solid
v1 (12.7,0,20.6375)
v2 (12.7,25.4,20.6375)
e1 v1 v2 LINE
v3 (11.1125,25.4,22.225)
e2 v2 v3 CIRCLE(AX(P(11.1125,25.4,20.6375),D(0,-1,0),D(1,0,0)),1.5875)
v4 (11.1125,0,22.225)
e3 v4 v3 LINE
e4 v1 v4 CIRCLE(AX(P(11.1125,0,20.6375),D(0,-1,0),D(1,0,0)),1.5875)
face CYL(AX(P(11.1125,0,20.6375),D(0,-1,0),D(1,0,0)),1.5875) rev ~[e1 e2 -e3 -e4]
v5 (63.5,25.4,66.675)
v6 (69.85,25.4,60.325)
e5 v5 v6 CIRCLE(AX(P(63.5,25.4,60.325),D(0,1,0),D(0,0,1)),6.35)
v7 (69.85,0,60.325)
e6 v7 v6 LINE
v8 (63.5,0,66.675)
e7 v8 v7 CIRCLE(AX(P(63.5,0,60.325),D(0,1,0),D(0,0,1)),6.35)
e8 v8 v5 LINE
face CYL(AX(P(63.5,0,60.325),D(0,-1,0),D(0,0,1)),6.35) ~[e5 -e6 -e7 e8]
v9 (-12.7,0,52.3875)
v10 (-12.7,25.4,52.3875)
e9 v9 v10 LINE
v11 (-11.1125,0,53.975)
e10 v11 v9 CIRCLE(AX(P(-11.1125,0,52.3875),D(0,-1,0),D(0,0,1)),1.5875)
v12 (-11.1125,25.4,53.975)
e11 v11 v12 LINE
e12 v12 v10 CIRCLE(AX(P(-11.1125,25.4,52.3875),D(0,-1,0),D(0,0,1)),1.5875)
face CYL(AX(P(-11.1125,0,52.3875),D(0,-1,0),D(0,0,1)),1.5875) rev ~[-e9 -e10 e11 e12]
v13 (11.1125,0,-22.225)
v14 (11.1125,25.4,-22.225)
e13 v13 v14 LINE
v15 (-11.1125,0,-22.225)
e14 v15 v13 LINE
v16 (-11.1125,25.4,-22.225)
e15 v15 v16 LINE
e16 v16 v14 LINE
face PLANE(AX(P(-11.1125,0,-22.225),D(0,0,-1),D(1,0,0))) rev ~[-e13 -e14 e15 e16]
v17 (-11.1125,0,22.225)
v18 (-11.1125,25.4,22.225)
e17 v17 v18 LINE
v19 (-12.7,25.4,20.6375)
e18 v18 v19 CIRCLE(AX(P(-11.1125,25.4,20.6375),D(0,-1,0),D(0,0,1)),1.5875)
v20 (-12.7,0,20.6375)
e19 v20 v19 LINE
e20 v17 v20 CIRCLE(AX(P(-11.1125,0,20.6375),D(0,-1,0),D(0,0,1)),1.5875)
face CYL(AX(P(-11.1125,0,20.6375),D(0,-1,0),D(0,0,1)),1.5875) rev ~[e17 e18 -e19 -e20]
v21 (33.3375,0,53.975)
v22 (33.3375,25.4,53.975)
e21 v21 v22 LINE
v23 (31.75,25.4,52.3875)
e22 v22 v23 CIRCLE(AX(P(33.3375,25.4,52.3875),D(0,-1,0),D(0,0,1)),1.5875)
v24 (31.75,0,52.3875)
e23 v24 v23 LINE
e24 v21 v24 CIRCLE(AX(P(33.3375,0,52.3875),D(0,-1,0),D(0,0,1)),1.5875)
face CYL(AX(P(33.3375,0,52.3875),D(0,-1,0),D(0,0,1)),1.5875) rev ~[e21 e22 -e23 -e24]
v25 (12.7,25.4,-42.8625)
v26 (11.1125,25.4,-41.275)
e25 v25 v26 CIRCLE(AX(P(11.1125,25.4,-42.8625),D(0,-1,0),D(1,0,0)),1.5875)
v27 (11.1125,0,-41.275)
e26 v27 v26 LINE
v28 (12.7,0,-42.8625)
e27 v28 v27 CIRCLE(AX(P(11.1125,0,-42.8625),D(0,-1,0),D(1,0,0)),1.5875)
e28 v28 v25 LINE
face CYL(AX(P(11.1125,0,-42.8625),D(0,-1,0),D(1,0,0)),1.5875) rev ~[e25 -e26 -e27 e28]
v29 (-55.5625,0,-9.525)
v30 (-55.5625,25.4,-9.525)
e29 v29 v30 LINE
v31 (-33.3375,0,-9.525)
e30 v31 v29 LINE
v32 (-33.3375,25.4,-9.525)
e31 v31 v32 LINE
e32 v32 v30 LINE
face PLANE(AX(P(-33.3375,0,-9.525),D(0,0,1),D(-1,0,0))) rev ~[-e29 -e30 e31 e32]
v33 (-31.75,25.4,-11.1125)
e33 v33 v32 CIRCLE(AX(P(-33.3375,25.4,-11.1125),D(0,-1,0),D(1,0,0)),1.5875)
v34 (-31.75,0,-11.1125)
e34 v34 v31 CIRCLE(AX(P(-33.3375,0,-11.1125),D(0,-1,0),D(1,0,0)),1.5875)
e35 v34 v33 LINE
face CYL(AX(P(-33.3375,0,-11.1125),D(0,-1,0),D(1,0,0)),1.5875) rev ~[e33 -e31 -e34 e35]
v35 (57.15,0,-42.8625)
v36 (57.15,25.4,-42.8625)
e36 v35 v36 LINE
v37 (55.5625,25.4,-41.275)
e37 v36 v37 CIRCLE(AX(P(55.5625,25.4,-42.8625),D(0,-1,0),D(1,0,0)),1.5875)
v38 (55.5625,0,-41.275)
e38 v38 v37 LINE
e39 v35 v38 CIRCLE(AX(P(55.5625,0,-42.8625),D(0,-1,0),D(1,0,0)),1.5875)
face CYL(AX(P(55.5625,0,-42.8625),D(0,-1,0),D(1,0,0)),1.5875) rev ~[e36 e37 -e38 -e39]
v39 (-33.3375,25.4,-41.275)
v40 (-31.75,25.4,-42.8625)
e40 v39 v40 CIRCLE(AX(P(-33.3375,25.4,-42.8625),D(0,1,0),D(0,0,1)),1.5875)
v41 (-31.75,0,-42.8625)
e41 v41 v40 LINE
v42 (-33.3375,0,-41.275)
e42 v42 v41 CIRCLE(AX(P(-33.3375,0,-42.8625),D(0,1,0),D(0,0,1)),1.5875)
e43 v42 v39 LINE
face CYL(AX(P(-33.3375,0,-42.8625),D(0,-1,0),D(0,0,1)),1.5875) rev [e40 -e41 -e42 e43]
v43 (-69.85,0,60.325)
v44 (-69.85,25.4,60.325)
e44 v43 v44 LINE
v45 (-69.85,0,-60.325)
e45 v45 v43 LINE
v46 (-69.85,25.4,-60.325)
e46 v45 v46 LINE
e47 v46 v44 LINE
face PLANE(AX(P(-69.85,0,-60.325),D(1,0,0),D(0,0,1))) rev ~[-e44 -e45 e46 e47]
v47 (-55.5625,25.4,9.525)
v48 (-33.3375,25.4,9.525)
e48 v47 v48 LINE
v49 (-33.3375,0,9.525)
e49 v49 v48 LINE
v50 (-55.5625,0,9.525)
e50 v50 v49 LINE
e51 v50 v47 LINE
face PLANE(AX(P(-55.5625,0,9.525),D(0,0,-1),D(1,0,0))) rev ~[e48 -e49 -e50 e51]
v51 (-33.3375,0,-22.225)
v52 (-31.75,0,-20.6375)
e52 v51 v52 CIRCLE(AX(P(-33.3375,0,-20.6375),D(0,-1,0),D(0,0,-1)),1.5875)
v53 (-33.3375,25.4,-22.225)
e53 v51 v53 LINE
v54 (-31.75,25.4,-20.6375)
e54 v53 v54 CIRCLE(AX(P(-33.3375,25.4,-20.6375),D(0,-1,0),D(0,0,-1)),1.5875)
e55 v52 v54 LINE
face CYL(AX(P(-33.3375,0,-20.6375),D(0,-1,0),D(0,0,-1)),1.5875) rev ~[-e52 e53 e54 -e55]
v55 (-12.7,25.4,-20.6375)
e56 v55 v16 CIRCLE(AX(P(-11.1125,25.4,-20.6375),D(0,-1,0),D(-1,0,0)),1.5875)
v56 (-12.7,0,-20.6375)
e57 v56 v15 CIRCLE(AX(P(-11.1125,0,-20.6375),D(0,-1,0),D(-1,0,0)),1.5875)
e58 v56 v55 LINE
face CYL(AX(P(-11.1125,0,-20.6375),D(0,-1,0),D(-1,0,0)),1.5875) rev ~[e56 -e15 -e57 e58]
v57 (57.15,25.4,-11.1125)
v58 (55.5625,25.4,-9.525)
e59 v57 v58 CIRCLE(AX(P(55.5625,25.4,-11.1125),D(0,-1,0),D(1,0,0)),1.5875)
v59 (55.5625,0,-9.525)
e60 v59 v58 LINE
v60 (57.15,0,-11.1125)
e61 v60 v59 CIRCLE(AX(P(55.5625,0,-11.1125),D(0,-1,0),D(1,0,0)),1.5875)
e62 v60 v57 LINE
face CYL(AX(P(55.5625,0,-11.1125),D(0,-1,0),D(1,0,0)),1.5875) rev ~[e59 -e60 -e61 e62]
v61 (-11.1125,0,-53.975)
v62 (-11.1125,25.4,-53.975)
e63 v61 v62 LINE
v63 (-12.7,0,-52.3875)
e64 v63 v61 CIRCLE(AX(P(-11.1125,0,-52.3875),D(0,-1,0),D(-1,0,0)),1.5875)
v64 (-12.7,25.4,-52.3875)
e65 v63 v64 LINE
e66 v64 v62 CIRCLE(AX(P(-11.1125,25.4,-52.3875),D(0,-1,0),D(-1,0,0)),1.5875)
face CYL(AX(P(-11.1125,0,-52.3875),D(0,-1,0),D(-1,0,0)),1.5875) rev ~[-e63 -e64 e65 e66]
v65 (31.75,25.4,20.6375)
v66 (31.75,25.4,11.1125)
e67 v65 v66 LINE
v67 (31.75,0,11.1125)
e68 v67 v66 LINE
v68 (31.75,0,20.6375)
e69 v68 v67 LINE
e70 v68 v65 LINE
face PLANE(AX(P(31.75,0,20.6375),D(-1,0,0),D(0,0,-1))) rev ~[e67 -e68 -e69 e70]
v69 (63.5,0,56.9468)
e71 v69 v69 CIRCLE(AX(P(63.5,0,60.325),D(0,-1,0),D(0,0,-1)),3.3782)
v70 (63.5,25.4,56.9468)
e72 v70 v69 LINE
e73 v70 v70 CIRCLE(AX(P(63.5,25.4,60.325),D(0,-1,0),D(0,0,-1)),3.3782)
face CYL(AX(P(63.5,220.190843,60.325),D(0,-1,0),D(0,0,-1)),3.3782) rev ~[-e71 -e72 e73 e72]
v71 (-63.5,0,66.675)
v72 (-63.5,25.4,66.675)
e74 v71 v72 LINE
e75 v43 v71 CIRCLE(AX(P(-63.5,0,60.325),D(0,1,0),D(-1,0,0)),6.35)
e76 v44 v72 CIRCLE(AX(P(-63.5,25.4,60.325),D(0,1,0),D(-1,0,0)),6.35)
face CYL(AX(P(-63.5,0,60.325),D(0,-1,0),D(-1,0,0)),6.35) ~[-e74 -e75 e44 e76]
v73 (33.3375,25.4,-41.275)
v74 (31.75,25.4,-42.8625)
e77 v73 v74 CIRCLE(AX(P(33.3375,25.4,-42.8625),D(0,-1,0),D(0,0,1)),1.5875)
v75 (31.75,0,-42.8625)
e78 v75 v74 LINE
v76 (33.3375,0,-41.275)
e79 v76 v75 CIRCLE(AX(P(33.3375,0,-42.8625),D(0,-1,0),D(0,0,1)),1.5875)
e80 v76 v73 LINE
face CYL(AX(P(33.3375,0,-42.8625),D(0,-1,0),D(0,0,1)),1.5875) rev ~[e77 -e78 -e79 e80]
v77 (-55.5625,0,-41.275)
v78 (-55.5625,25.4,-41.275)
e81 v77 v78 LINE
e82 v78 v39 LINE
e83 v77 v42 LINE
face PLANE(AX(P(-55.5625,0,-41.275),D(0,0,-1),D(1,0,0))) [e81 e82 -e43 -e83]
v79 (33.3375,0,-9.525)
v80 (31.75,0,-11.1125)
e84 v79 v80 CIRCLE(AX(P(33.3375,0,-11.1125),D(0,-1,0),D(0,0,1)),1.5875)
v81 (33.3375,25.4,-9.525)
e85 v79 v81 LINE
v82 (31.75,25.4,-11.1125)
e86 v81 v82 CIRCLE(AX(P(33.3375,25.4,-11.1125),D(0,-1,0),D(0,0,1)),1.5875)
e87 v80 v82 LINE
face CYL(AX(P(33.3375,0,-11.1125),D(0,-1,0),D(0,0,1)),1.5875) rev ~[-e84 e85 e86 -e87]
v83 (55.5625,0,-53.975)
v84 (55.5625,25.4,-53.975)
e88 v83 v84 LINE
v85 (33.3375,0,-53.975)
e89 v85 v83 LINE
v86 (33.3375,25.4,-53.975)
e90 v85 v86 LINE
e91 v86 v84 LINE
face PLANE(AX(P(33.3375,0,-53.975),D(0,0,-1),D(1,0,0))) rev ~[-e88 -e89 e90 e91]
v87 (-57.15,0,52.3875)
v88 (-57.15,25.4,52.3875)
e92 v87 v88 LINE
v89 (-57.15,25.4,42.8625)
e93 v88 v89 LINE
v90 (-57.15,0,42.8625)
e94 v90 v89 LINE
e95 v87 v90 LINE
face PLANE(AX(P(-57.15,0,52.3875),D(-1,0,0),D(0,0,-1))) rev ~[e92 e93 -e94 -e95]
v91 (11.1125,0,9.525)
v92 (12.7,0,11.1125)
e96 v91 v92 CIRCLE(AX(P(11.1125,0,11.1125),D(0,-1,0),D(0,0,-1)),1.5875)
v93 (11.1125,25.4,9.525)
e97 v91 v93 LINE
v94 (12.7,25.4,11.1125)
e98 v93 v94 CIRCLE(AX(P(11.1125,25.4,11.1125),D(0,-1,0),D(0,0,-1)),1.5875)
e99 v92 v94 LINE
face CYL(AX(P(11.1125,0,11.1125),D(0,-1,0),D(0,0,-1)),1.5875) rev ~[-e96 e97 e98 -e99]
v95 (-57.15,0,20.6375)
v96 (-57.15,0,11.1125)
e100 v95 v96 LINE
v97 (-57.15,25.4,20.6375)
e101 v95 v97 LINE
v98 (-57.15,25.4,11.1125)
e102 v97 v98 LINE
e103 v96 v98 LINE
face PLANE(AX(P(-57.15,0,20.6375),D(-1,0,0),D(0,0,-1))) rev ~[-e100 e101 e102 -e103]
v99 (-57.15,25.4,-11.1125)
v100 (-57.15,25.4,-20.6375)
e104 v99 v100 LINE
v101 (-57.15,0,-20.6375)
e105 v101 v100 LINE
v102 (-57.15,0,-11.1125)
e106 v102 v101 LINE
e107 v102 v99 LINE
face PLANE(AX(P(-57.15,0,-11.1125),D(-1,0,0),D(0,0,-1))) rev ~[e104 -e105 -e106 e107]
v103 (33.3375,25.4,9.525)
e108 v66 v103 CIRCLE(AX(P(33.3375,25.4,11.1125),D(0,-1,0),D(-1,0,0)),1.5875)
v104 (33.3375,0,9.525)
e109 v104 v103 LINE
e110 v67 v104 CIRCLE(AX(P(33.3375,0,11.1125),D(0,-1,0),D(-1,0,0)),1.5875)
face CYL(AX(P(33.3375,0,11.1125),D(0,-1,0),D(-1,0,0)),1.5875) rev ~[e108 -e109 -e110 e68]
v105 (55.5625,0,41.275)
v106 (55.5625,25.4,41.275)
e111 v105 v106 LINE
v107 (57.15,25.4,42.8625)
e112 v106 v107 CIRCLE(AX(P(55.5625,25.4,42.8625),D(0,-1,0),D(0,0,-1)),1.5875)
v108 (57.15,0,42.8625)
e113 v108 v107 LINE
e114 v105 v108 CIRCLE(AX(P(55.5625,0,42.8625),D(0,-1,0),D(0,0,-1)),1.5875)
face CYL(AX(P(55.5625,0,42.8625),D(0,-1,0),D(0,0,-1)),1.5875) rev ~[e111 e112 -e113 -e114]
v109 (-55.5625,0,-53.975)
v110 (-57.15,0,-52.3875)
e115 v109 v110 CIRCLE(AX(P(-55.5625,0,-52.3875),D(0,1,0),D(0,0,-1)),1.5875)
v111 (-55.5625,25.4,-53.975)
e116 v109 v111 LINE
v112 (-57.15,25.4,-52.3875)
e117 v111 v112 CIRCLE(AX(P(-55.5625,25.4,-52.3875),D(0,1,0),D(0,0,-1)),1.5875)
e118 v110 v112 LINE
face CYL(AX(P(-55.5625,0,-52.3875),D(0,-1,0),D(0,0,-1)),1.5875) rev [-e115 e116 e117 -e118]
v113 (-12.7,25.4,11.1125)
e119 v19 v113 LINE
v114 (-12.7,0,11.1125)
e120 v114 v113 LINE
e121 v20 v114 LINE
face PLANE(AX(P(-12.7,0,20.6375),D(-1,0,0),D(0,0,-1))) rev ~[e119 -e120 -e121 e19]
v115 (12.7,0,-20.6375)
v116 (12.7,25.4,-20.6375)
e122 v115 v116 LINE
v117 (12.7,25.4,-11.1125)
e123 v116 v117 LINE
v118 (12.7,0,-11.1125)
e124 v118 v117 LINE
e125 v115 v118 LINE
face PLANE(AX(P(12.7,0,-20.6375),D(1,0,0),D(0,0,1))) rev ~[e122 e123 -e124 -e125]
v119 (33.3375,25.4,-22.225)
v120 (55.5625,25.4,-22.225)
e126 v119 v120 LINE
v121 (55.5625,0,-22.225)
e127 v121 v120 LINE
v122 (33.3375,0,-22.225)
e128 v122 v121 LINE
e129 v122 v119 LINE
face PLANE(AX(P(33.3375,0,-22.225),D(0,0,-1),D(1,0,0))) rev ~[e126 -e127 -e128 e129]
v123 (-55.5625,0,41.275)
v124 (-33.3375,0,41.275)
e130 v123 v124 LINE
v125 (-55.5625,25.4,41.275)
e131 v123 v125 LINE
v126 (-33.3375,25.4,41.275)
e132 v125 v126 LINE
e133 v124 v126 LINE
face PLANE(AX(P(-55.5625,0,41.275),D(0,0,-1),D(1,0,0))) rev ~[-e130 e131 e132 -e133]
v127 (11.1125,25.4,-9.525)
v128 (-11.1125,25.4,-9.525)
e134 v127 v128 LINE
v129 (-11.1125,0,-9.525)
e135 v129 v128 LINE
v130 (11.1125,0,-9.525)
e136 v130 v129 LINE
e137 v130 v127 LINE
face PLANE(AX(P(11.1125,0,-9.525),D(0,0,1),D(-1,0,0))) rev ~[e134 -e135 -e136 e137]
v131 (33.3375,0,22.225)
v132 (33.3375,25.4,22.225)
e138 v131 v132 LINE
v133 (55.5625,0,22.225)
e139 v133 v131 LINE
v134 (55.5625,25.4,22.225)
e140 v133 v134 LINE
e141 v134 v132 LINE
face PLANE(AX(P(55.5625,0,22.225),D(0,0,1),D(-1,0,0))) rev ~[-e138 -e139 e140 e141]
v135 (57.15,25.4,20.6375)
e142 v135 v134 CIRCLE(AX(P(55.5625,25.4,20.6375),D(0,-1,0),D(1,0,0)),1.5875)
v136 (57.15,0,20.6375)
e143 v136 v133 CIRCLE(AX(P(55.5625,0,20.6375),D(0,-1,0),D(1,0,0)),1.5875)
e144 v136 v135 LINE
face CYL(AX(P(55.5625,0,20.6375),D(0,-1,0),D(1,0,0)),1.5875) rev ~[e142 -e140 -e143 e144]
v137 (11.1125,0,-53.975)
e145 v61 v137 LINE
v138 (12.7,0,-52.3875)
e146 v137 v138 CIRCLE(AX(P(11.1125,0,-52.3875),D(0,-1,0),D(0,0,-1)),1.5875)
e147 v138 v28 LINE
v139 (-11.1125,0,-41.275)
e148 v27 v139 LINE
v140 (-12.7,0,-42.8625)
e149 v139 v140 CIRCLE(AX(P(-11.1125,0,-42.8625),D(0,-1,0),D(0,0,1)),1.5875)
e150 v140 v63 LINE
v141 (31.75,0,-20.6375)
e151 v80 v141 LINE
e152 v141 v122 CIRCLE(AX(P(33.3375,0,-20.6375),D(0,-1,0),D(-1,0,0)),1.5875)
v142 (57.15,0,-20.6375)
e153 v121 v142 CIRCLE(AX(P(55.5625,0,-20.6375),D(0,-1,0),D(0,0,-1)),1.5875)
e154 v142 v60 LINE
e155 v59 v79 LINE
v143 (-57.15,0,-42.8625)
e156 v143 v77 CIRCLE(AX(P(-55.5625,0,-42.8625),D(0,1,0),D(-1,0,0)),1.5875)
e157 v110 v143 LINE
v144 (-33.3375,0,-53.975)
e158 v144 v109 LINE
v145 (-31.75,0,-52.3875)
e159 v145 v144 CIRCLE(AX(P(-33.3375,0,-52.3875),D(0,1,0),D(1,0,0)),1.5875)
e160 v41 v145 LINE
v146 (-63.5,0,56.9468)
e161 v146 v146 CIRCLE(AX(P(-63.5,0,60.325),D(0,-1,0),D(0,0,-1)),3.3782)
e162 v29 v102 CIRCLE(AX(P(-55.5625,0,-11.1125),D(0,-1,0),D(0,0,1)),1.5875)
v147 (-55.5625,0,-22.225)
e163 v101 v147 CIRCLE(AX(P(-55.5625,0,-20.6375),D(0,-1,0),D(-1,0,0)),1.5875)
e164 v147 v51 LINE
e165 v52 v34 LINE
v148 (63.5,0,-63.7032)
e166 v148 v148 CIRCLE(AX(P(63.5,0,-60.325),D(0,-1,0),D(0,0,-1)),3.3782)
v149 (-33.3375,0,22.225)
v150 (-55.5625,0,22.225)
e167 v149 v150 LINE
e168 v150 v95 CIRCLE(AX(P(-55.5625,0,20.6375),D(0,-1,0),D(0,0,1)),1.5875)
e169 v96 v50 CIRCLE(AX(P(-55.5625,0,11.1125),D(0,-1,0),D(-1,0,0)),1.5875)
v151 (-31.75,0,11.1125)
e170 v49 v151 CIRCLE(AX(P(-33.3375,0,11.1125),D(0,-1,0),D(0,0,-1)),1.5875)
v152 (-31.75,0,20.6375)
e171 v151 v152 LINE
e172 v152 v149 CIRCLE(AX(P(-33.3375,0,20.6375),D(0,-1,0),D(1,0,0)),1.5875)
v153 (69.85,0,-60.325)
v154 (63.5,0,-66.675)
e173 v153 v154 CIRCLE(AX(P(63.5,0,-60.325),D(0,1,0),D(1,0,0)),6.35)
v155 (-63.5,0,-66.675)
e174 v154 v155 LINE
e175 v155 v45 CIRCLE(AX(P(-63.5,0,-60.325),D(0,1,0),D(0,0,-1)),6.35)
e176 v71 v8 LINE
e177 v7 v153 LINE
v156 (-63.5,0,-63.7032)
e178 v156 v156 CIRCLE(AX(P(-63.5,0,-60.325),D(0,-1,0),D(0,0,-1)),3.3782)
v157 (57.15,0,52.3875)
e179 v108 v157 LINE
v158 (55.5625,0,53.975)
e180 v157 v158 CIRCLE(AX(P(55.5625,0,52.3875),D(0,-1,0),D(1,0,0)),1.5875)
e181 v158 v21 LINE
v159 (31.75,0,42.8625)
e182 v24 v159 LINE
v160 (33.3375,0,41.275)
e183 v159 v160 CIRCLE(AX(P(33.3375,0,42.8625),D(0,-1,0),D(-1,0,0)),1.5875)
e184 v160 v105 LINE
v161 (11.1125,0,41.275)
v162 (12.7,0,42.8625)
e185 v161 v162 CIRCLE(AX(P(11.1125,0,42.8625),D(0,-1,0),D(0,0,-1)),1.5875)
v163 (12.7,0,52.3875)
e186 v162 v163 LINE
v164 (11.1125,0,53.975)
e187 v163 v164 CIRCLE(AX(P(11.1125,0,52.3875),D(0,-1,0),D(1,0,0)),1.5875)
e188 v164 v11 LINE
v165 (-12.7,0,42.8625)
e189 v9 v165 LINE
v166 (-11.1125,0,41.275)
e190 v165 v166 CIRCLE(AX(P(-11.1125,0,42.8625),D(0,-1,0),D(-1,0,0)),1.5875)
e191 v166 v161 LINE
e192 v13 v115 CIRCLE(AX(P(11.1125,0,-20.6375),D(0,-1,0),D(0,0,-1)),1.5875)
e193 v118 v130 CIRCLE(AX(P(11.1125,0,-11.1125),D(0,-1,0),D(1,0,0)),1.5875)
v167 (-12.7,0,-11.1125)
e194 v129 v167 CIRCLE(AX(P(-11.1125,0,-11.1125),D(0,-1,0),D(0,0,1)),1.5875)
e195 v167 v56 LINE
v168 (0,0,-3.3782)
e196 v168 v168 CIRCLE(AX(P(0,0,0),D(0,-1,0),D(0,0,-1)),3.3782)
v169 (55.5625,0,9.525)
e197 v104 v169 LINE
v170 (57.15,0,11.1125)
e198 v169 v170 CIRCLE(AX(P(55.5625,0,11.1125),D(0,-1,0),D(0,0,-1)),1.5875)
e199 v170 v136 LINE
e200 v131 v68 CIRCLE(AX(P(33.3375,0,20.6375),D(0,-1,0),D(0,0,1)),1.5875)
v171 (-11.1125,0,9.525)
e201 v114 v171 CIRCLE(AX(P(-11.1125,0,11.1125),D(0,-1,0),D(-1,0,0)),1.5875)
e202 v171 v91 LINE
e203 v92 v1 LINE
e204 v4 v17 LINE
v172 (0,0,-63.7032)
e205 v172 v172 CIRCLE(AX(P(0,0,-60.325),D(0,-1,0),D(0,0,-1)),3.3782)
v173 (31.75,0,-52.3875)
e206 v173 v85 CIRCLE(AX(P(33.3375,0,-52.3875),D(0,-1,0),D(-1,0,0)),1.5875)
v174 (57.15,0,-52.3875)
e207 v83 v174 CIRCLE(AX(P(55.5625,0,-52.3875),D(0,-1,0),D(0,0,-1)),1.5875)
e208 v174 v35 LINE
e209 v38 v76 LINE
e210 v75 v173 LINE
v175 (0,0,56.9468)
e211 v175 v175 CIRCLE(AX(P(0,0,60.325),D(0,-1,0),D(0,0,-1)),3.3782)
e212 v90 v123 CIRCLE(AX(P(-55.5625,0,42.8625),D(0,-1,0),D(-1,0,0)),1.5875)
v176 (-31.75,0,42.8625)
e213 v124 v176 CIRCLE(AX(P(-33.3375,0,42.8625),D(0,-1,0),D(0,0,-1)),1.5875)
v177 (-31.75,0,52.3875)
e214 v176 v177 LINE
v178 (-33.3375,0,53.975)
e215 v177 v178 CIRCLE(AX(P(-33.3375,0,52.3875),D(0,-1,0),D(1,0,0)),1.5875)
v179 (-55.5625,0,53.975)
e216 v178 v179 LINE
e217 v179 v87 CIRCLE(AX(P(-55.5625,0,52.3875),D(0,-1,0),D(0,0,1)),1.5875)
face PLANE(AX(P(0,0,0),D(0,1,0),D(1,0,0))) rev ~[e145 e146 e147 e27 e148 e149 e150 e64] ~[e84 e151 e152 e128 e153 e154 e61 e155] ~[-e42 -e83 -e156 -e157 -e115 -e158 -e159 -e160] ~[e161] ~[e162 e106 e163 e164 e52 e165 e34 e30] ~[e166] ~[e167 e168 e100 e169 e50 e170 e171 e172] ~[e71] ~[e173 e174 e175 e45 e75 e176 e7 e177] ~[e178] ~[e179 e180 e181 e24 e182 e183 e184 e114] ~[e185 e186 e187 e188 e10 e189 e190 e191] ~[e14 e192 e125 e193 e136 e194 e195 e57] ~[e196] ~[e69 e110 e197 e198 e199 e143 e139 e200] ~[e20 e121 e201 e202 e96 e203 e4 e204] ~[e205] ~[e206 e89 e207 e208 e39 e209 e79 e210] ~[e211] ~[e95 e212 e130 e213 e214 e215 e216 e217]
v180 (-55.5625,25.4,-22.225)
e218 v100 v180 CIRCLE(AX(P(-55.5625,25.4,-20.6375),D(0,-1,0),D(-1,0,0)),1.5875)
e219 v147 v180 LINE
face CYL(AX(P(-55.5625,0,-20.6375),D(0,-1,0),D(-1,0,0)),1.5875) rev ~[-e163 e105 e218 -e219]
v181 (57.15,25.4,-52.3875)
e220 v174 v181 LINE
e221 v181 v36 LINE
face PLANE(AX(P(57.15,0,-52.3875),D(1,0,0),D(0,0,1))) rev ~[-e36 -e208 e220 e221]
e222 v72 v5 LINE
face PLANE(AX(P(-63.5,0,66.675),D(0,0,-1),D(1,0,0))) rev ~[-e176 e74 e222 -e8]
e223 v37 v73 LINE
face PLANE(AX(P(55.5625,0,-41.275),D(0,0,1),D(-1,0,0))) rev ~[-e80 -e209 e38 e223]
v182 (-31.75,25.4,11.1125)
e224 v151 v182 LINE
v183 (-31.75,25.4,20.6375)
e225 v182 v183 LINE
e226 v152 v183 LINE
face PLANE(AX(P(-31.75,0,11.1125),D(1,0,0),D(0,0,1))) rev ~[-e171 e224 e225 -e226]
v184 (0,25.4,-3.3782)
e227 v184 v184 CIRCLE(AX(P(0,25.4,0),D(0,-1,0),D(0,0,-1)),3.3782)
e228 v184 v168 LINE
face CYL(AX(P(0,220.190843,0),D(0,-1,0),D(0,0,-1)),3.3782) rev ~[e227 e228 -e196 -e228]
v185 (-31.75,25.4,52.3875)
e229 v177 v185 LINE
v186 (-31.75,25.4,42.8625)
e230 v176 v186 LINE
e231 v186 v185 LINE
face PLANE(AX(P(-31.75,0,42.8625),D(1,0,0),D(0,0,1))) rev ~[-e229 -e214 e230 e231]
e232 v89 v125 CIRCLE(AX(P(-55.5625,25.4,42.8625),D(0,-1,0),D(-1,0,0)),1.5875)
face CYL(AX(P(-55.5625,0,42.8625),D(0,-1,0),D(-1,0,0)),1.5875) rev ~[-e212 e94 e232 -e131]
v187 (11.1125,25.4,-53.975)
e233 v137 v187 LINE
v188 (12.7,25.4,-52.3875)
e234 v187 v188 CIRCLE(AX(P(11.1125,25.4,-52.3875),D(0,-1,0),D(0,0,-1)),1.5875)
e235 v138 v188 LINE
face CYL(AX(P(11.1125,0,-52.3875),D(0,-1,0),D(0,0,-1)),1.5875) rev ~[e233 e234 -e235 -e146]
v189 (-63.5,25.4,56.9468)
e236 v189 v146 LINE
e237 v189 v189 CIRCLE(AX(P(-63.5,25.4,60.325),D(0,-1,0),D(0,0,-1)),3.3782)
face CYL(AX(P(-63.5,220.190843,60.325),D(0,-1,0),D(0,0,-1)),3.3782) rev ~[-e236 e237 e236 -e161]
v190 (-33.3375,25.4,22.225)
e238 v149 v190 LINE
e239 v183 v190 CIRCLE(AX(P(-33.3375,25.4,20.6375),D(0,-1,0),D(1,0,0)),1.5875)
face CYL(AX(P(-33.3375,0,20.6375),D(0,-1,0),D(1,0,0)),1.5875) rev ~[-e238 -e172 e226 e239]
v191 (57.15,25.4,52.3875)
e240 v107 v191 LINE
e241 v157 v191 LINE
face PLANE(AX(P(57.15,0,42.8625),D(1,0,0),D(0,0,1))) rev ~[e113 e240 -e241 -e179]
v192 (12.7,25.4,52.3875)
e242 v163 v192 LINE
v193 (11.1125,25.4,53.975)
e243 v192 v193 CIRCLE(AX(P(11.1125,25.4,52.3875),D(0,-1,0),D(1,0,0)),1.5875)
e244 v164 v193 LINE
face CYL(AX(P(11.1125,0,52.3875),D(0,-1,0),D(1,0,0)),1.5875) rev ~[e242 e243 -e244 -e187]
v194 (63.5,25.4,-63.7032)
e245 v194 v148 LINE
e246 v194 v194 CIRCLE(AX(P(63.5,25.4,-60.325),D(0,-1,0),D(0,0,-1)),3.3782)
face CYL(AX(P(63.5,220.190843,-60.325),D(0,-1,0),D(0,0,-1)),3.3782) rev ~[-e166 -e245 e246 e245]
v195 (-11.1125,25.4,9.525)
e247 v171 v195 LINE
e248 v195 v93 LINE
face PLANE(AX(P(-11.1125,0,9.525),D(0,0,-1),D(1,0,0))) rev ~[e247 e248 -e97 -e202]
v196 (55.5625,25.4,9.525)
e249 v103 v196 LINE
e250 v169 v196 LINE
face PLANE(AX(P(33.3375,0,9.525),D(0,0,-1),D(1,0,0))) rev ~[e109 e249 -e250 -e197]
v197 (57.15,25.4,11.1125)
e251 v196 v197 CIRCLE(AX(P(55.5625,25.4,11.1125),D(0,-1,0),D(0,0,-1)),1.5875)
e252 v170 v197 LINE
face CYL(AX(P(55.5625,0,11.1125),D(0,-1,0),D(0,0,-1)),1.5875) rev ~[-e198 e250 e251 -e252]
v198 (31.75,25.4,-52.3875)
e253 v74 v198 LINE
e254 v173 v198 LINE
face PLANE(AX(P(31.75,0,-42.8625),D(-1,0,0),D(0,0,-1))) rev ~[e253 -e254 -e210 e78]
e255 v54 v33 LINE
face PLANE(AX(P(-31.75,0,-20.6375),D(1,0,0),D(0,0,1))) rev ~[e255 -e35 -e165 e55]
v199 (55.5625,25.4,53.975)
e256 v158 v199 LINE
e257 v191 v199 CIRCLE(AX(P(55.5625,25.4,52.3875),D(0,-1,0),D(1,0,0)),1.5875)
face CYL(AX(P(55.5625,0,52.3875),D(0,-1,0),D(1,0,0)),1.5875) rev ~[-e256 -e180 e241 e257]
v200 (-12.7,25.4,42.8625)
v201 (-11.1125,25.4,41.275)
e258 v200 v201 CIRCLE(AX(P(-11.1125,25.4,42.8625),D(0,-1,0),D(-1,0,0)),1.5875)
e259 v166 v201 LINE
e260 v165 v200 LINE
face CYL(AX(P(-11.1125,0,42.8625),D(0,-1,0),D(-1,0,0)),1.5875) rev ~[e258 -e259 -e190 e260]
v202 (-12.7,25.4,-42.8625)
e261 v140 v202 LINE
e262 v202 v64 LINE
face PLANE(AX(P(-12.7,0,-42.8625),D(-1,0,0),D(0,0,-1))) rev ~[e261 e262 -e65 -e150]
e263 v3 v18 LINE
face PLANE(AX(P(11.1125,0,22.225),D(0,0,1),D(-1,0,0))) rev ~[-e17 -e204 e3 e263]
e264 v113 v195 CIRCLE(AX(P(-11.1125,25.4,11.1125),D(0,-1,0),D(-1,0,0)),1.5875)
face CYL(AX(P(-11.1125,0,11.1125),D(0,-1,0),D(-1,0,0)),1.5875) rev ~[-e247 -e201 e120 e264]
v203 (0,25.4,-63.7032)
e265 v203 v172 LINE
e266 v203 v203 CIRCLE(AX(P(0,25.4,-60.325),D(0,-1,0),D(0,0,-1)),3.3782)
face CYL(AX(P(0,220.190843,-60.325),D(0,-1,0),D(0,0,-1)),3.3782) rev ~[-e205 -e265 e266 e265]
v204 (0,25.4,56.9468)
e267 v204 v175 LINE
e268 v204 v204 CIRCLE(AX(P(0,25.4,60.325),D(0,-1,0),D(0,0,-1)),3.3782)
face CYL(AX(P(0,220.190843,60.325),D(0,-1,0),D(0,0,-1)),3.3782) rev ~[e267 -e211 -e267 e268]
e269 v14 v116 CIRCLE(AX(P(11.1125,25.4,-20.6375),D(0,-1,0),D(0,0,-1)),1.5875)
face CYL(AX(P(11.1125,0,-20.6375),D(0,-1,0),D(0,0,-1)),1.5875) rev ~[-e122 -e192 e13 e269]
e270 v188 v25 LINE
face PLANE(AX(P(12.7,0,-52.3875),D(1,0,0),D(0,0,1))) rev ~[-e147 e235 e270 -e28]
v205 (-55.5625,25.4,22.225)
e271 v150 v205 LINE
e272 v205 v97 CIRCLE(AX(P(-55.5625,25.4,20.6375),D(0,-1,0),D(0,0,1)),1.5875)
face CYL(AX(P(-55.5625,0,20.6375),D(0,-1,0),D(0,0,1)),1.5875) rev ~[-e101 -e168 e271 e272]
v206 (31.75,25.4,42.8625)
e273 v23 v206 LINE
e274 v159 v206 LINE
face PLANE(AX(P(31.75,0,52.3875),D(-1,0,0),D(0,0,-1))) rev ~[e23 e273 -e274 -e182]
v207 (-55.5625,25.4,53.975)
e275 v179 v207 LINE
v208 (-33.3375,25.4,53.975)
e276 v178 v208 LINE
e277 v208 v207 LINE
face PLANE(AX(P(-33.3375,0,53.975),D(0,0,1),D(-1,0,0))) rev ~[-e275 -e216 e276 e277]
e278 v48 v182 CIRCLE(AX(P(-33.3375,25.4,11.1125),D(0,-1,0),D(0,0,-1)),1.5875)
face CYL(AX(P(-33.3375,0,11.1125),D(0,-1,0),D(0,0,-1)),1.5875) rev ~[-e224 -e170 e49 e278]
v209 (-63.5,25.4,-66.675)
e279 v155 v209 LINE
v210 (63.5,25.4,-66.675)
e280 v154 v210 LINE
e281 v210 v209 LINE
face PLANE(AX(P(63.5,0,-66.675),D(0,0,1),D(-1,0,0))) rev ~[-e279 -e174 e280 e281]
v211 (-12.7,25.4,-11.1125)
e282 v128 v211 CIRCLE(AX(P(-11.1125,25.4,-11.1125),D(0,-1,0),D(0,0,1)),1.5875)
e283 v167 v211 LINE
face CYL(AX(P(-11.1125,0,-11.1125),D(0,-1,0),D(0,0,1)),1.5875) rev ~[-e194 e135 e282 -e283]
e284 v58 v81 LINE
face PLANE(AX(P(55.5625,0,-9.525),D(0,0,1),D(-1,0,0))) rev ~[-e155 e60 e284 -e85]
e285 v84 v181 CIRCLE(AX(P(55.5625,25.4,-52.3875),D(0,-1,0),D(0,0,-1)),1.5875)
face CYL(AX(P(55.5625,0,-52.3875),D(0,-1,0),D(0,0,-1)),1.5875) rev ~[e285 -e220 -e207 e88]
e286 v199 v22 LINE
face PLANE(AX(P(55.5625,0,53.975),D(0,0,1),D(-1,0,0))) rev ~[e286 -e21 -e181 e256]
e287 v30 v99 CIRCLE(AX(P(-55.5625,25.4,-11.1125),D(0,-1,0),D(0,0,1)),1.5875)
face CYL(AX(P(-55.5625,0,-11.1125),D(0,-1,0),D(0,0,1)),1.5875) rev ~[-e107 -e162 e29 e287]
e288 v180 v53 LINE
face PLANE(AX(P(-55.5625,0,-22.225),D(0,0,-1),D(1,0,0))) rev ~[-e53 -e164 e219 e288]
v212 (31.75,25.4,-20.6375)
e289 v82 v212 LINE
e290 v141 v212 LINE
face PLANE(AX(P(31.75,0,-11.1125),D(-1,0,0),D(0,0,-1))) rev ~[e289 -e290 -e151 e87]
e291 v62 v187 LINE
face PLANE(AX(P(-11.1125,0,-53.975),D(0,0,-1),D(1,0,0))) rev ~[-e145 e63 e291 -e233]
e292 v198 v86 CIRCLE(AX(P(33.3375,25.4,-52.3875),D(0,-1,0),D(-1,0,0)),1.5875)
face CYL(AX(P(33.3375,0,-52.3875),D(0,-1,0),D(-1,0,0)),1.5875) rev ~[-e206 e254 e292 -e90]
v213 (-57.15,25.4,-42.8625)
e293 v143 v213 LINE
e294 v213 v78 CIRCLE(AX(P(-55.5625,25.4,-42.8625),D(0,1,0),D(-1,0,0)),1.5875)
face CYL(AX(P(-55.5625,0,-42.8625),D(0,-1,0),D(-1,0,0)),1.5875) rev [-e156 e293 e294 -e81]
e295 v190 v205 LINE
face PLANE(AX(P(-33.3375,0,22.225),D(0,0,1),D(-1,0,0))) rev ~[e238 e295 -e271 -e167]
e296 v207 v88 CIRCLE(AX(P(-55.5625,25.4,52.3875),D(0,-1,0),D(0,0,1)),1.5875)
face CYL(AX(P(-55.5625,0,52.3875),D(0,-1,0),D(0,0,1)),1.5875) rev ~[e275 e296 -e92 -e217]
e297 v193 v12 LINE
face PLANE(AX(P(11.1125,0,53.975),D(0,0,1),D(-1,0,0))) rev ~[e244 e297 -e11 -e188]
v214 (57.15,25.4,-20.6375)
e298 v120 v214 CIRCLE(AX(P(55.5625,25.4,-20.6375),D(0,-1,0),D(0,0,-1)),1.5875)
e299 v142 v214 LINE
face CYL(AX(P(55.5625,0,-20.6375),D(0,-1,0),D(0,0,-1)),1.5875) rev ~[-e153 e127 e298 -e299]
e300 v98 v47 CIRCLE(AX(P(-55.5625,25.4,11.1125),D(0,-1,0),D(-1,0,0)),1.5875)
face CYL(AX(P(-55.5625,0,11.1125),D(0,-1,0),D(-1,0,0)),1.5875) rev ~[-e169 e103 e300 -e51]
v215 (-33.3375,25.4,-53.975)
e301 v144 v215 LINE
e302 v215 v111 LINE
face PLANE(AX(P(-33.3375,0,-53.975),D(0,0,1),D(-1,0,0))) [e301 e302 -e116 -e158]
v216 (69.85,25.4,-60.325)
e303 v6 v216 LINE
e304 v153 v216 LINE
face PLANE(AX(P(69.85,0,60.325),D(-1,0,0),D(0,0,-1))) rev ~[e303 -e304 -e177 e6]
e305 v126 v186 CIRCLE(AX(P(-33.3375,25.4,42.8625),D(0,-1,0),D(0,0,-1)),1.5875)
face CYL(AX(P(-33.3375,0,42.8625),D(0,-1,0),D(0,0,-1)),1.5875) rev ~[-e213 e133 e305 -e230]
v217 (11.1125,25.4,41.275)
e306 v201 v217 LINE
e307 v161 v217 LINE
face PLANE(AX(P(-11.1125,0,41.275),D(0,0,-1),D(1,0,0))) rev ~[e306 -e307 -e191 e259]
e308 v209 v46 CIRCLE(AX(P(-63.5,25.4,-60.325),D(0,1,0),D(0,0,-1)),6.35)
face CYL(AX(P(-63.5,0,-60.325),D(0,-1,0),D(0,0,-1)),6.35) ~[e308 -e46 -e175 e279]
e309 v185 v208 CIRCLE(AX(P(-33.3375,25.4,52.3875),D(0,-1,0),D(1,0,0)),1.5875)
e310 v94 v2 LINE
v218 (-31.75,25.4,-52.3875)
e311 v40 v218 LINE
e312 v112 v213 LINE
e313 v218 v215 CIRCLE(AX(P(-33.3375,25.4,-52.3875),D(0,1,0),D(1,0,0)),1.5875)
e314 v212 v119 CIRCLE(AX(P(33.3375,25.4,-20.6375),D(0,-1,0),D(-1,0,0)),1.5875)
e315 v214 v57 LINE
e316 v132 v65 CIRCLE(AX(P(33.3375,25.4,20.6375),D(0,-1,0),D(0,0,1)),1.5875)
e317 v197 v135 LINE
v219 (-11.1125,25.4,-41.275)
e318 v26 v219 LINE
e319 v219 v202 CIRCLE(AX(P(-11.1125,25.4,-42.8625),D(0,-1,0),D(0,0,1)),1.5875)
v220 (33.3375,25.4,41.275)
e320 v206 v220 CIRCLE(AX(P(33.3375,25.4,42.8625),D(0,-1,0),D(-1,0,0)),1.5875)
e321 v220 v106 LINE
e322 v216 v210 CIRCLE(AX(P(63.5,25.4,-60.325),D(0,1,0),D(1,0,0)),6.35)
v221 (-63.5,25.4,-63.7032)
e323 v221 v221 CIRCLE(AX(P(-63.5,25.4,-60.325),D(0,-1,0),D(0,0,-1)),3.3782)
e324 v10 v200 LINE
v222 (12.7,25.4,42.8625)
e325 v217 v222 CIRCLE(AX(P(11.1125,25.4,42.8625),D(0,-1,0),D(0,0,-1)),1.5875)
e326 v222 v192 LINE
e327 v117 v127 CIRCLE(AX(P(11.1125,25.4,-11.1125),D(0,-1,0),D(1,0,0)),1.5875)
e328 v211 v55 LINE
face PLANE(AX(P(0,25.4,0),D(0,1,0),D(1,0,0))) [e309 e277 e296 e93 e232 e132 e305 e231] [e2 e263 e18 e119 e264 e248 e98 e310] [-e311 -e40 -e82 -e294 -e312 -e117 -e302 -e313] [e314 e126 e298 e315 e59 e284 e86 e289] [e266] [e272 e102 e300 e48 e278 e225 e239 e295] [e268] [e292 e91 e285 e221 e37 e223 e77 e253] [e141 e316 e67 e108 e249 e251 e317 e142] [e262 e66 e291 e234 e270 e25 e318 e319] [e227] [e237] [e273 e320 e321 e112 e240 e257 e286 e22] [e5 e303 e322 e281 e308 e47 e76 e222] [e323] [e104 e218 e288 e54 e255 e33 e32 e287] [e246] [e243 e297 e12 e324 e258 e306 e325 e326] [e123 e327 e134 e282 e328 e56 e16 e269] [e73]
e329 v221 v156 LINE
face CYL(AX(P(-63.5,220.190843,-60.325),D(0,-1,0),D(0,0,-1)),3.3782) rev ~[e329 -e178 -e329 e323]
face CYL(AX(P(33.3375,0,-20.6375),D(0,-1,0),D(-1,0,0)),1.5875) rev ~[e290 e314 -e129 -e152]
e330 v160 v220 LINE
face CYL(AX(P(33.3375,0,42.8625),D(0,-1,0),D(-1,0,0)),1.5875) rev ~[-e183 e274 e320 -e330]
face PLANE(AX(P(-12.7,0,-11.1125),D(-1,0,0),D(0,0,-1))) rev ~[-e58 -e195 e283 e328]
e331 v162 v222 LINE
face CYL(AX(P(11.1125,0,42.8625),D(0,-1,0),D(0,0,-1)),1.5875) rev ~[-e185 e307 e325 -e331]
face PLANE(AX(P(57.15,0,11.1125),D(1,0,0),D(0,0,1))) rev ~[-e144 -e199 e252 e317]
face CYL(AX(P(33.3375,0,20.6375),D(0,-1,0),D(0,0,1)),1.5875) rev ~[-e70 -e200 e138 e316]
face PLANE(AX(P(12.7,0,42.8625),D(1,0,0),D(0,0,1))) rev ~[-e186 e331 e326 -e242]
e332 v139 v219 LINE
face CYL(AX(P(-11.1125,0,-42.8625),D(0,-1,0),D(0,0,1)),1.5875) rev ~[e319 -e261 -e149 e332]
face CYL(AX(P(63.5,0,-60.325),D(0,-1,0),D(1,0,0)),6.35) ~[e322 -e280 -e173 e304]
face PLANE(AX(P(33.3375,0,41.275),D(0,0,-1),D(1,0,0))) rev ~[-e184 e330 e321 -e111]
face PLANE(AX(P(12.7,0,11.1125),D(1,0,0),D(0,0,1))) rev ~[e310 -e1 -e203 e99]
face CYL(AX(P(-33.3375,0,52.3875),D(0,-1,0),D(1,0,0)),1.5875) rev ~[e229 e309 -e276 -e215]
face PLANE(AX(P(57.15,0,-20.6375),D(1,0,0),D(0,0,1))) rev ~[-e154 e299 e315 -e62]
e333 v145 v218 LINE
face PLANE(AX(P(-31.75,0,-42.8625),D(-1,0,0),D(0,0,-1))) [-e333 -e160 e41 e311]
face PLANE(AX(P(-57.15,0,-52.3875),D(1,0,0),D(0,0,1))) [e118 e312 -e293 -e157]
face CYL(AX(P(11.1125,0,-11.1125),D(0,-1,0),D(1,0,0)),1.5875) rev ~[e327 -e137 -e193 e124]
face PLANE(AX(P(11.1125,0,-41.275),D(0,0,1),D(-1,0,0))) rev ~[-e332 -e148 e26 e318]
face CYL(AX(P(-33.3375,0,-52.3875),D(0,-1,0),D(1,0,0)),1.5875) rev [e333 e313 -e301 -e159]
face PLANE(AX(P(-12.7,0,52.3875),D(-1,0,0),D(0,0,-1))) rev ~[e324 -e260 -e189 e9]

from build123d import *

# Parameters (mm, degrees)
BOSS_EXTRUDE1_DEPTH     = 25.4
F_1_4_CLEARANCE_HOLE1_D = 6.7564


with BuildPart() as part:
    # Sketch1 → Boss-Extrude1 (new body)
    with BuildSketch(Plane(origin=(0, 0, 0), x_dir=(1, 0, 0), z_dir=(0, 1, 0))):
        with BuildLine():
            Line((-63.5, -66.675), (63.5, -66.675))
            ThreePointArc((63.5, -66.675), (67.990128061, -64.815128061), (69.85, -60.325))
            Line((69.85, -60.325), (69.85, 60.325))
            ThreePointArc((69.85, 60.325), (67.990128061, 64.815128061), (63.5, 66.675))
            Line((63.5, 66.675), (-63.5, 66.675))
            ThreePointArc((-63.5, 66.675), (-67.990128061, 64.815128061), (-69.85, 60.325))
            Line((-69.85, 60.325), (-69.85, -60.325))
            ThreePointArc((-69.85, -60.325), (-67.990128061, -64.815128061), (-63.5, -66.675))
        make_face()
        with BuildLine():
            Line((-55.5625, 41.275), (-33.3375, 41.275))
            ThreePointArc((-33.3375, 41.275), (-32.214967985, 41.739967985), (-31.75, 42.8625))
            Line((-31.75, 42.8625), (-31.75, 52.3875))
            ThreePointArc((-31.75, 52.3875), (-32.214967985, 53.510032015), (-33.3375, 53.975))
            Line((-33.3375, 53.975), (-55.5625, 53.975))
            ThreePointArc((-55.5625, 53.975), (-56.685032015, 53.510032015), (-57.15, 52.3875))
            Line((-57.15, 52.3875), (-57.15, 42.8625))
            ThreePointArc((-57.15, 42.8625), (-56.685032015, 41.739967985), (-55.5625, 41.275))
        make_face(mode=Mode.SUBTRACT)
        with BuildLine():
            Line((-12.7, 42.8625), (-12.7, 52.3875))
            ThreePointArc((-12.7, 52.3875), (-12.235032015, 53.510032015), (-11.1125, 53.975))
            Line((-11.1125, 53.975), (11.1125, 53.975))
            ThreePointArc((11.1125, 53.975), (12.235032015, 53.510032015), (12.7, 52.3875))
            Line((12.7, 52.3875), (12.7, 42.8625))
            ThreePointArc((12.7, 42.8625), (12.235032015, 41.739967985), (11.1125, 41.275))
            Line((11.1125, 41.275), (-11.1125, 41.275))
            ThreePointArc((-11.1125, 41.275), (-12.235032015, 41.739967985), (-12.7, 42.8625))
        make_face(mode=Mode.SUBTRACT)
        with BuildLine():
            Line((31.75, 42.8625), (31.75, 52.3875))
            ThreePointArc((31.75, 52.3875), (32.214967985, 53.510032015), (33.3375, 53.975))
            Line((33.3375, 53.975), (55.5625, 53.975))
            ThreePointArc((55.5625, 53.975), (56.685032015, 53.510032015), (57.15, 52.3875))
            Line((57.15, 52.3875), (57.15, 42.8625))
            ThreePointArc((57.15, 42.8625), (56.685032015, 41.739967985), (55.5625, 41.275))
            Line((55.5625, 41.275), (33.3375, 41.275))
            ThreePointArc((33.3375, 41.275), (32.214967985, 41.739967985), (31.75, 42.8625))
        make_face(mode=Mode.SUBTRACT)
        with BuildLine():
            Line((-57.15, 11.1125), (-57.15, 20.6375))
            ThreePointArc((-57.15, 20.6375), (-56.685032015, 21.760032015), (-55.5625, 22.225))
            Line((-55.5625, 22.225), (-33.3375, 22.225))
            ThreePointArc((-33.3375, 22.225), (-32.214967985, 21.760032015), (-31.75, 20.6375))
            Line((-31.75, 20.6375), (-31.75, 11.1125))
            ThreePointArc((-31.75, 11.1125), (-32.214967985, 9.989967985), (-33.3375, 9.525))
            Line((-33.3375, 9.525), (-55.5625, 9.525))
            ThreePointArc((-55.5625, 9.525), (-56.685032015, 9.989967985), (-57.15, 11.1125))
        make_face(mode=Mode.SUBTRACT)
        with BuildLine():
            Line((-12.7, 11.1125), (-12.7, 20.6375))
            ThreePointArc((-12.7, 20.6375), (-12.235032015, 21.760032015), (-11.1125, 22.225))
            Line((-11.1125, 22.225), (11.1125, 22.225))
            ThreePointArc((11.1125, 22.225), (12.235032015, 21.760032015), (12.7, 20.6375))
            Line((12.7, 20.6375), (12.7, 11.1125))
            ThreePointArc((12.7, 11.1125), (12.235032015, 9.989967985), (11.1125, 9.525))
            Line((11.1125, 9.525), (-11.1125, 9.525))
            ThreePointArc((-11.1125, 9.525), (-12.235032015, 9.989967985), (-12.7, 11.1125))
        make_face(mode=Mode.SUBTRACT)
        with BuildLine():
            Line((31.75, 11.1125), (31.75, 20.6375))
            ThreePointArc((31.75, 20.6375), (32.214967985, 21.760032015), (33.3375, 22.225))
            Line((33.3375, 22.225), (55.5625, 22.225))
            ThreePointArc((55.5625, 22.225), (56.685032015, 21.760032015), (57.15, 20.6375))
            Line((57.15, 20.6375), (57.15, 11.1125))
            ThreePointArc((57.15, 11.1125), (56.685032015, 9.989967985), (55.5625, 9.525))
            Line((55.5625, 9.525), (33.3375, 9.525))
            ThreePointArc((33.3375, 9.525), (32.214967985, 9.989967985), (31.75, 11.1125))
        make_face(mode=Mode.SUBTRACT)
        with BuildLine():
            Line((-57.15, -20.6375), (-57.15, -11.1125))
            ThreePointArc((-57.15, -11.1125), (-56.685032015, -9.989967985), (-55.5625, -9.525))
            Line((-55.5625, -9.525), (-33.3375, -9.525))
            ThreePointArc((-33.3375, -9.525), (-32.214967985, -9.989967985), (-31.75, -11.1125))
            Line((-31.75, -11.1125), (-31.75, -20.6375))
            ThreePointArc((-31.75, -20.6375), (-32.214967985, -21.760032015), (-33.3375, -22.225))
            Line((-33.3375, -22.225), (-55.5625, -22.225))
            ThreePointArc((-55.5625, -22.225), (-56.685032015, -21.760032015), (-57.15, -20.6375))
        make_face(mode=Mode.SUBTRACT)
        with BuildLine():
            Line((-12.7, -20.6375), (-12.7, -11.1125))
            ThreePointArc((-12.7, -11.1125), (-12.235032015, -9.989967985), (-11.1125, -9.525))
            Line((-11.1125, -9.525), (11.1125, -9.525))
            ThreePointArc((11.1125, -9.525), (12.235032015, -9.989967985), (12.7, -11.1125))
            Line((12.7, -11.1125), (12.7, -20.6375))
            ThreePointArc((12.7, -20.6375), (12.235032015, -21.760032015), (11.1125, -22.225))
            Line((11.1125, -22.225), (-11.1125, -22.225))
            ThreePointArc((-11.1125, -22.225), (-12.235032015, -21.760032015), (-12.7, -20.6375))
        make_face(mode=Mode.SUBTRACT)
        with BuildLine():
            Line((31.75, -20.6375), (31.75, -11.1125))
            ThreePointArc((31.75, -11.1125), (32.214967985, -9.989967985), (33.3375, -9.525))
            Line((33.3375, -9.525), (55.5625, -9.525))
            ThreePointArc((55.5625, -9.525), (56.685032015, -9.989967985), (57.15, -11.1125))
            Line((57.15, -11.1125), (57.15, -20.6375))
            ThreePointArc((57.15, -20.6375), (56.685032015, -21.760032015), (55.5625, -22.225))
            Line((55.5625, -22.225), (33.3375, -22.225))
            ThreePointArc((33.3375, -22.225), (32.214967985, -21.760032015), (31.75, -20.6375))
        make_face(mode=Mode.SUBTRACT)
        with BuildLine():
            Line((-57.15, -52.3875), (-57.15, -42.8625))
            ThreePointArc((-57.15, -42.8625), (-56.685032015, -41.739967985), (-55.5625, -41.275))
            Line((-55.5625, -41.275), (-33.3375, -41.275))
            ThreePointArc((-33.3375, -41.275), (-32.214967985, -41.739967985), (-31.75, -42.8625))
            Line((-31.75, -42.8625), (-31.75, -52.3875))
            ThreePointArc((-31.75, -52.3875), (-32.214967985, -53.510032015), (-33.3375, -53.975))
            Line((-33.3375, -53.975), (-55.5625, -53.975))
            ThreePointArc((-55.5625, -53.975), (-56.685032015, -53.510032015), (-57.15, -52.3875))
        make_face(mode=Mode.SUBTRACT)
        with BuildLine():
            Line((-12.7, -52.3875), (-12.7, -42.8625))
            ThreePointArc((-12.7, -42.8625), (-12.235032015, -41.739967985), (-11.1125, -41.275))
            Line((-11.1125, -41.275), (11.1125, -41.275))
            ThreePointArc((11.1125, -41.275), (12.235032015, -41.739967985), (12.7, -42.8625))
            Line((12.7, -42.8625), (12.7, -52.3875))
            ThreePointArc((12.7, -52.3875), (12.235032015, -53.510032015), (11.1125, -53.975))
            Line((11.1125, -53.975), (-11.1125, -53.975))
            ThreePointArc((-11.1125, -53.975), (-12.235032015, -53.510032015), (-12.7, -52.3875))
        make_face(mode=Mode.SUBTRACT)
        with BuildLine():
            Line((31.75, -52.3875), (31.75, -42.8625))
            ThreePointArc((31.75, -42.8625), (32.214967985, -41.739967985), (33.3375, -41.275))
            Line((33.3375, -41.275), (55.5625, -41.275))
            ThreePointArc((55.5625, -41.275), (56.685032015, -41.739967985), (57.15, -42.8625))
            Line((57.15, -42.8625), (57.15, -52.3875))
            ThreePointArc((57.15, -52.3875), (56.685032015, -53.510032015), (55.5625, -53.975))
            Line((55.5625, -53.975), (33.3375, -53.975))
            ThreePointArc((33.3375, -53.975), (32.214967985, -53.510032015), (31.75, -52.3875))
        make_face(mode=Mode.SUBTRACT)
    extrude(amount=BOSS_EXTRUDE1_DEPTH)

    # 1/4 Clearance Hole1 (through all)
    with Locations(Plane(origin=(-63.5, 25.4, -60.325), x_dir=(0, 0, 1), z_dir=(0, 1, 0))):
        with Locations((0, 0), (0, 127), (120.65, 127), (120.65, 0), (60.325, 63.5), (0, 63.5), (120.65, 63.5)):
            Hole(F_1_4_CLEARANCE_HOLE1_D / 2)


solid = part.part
